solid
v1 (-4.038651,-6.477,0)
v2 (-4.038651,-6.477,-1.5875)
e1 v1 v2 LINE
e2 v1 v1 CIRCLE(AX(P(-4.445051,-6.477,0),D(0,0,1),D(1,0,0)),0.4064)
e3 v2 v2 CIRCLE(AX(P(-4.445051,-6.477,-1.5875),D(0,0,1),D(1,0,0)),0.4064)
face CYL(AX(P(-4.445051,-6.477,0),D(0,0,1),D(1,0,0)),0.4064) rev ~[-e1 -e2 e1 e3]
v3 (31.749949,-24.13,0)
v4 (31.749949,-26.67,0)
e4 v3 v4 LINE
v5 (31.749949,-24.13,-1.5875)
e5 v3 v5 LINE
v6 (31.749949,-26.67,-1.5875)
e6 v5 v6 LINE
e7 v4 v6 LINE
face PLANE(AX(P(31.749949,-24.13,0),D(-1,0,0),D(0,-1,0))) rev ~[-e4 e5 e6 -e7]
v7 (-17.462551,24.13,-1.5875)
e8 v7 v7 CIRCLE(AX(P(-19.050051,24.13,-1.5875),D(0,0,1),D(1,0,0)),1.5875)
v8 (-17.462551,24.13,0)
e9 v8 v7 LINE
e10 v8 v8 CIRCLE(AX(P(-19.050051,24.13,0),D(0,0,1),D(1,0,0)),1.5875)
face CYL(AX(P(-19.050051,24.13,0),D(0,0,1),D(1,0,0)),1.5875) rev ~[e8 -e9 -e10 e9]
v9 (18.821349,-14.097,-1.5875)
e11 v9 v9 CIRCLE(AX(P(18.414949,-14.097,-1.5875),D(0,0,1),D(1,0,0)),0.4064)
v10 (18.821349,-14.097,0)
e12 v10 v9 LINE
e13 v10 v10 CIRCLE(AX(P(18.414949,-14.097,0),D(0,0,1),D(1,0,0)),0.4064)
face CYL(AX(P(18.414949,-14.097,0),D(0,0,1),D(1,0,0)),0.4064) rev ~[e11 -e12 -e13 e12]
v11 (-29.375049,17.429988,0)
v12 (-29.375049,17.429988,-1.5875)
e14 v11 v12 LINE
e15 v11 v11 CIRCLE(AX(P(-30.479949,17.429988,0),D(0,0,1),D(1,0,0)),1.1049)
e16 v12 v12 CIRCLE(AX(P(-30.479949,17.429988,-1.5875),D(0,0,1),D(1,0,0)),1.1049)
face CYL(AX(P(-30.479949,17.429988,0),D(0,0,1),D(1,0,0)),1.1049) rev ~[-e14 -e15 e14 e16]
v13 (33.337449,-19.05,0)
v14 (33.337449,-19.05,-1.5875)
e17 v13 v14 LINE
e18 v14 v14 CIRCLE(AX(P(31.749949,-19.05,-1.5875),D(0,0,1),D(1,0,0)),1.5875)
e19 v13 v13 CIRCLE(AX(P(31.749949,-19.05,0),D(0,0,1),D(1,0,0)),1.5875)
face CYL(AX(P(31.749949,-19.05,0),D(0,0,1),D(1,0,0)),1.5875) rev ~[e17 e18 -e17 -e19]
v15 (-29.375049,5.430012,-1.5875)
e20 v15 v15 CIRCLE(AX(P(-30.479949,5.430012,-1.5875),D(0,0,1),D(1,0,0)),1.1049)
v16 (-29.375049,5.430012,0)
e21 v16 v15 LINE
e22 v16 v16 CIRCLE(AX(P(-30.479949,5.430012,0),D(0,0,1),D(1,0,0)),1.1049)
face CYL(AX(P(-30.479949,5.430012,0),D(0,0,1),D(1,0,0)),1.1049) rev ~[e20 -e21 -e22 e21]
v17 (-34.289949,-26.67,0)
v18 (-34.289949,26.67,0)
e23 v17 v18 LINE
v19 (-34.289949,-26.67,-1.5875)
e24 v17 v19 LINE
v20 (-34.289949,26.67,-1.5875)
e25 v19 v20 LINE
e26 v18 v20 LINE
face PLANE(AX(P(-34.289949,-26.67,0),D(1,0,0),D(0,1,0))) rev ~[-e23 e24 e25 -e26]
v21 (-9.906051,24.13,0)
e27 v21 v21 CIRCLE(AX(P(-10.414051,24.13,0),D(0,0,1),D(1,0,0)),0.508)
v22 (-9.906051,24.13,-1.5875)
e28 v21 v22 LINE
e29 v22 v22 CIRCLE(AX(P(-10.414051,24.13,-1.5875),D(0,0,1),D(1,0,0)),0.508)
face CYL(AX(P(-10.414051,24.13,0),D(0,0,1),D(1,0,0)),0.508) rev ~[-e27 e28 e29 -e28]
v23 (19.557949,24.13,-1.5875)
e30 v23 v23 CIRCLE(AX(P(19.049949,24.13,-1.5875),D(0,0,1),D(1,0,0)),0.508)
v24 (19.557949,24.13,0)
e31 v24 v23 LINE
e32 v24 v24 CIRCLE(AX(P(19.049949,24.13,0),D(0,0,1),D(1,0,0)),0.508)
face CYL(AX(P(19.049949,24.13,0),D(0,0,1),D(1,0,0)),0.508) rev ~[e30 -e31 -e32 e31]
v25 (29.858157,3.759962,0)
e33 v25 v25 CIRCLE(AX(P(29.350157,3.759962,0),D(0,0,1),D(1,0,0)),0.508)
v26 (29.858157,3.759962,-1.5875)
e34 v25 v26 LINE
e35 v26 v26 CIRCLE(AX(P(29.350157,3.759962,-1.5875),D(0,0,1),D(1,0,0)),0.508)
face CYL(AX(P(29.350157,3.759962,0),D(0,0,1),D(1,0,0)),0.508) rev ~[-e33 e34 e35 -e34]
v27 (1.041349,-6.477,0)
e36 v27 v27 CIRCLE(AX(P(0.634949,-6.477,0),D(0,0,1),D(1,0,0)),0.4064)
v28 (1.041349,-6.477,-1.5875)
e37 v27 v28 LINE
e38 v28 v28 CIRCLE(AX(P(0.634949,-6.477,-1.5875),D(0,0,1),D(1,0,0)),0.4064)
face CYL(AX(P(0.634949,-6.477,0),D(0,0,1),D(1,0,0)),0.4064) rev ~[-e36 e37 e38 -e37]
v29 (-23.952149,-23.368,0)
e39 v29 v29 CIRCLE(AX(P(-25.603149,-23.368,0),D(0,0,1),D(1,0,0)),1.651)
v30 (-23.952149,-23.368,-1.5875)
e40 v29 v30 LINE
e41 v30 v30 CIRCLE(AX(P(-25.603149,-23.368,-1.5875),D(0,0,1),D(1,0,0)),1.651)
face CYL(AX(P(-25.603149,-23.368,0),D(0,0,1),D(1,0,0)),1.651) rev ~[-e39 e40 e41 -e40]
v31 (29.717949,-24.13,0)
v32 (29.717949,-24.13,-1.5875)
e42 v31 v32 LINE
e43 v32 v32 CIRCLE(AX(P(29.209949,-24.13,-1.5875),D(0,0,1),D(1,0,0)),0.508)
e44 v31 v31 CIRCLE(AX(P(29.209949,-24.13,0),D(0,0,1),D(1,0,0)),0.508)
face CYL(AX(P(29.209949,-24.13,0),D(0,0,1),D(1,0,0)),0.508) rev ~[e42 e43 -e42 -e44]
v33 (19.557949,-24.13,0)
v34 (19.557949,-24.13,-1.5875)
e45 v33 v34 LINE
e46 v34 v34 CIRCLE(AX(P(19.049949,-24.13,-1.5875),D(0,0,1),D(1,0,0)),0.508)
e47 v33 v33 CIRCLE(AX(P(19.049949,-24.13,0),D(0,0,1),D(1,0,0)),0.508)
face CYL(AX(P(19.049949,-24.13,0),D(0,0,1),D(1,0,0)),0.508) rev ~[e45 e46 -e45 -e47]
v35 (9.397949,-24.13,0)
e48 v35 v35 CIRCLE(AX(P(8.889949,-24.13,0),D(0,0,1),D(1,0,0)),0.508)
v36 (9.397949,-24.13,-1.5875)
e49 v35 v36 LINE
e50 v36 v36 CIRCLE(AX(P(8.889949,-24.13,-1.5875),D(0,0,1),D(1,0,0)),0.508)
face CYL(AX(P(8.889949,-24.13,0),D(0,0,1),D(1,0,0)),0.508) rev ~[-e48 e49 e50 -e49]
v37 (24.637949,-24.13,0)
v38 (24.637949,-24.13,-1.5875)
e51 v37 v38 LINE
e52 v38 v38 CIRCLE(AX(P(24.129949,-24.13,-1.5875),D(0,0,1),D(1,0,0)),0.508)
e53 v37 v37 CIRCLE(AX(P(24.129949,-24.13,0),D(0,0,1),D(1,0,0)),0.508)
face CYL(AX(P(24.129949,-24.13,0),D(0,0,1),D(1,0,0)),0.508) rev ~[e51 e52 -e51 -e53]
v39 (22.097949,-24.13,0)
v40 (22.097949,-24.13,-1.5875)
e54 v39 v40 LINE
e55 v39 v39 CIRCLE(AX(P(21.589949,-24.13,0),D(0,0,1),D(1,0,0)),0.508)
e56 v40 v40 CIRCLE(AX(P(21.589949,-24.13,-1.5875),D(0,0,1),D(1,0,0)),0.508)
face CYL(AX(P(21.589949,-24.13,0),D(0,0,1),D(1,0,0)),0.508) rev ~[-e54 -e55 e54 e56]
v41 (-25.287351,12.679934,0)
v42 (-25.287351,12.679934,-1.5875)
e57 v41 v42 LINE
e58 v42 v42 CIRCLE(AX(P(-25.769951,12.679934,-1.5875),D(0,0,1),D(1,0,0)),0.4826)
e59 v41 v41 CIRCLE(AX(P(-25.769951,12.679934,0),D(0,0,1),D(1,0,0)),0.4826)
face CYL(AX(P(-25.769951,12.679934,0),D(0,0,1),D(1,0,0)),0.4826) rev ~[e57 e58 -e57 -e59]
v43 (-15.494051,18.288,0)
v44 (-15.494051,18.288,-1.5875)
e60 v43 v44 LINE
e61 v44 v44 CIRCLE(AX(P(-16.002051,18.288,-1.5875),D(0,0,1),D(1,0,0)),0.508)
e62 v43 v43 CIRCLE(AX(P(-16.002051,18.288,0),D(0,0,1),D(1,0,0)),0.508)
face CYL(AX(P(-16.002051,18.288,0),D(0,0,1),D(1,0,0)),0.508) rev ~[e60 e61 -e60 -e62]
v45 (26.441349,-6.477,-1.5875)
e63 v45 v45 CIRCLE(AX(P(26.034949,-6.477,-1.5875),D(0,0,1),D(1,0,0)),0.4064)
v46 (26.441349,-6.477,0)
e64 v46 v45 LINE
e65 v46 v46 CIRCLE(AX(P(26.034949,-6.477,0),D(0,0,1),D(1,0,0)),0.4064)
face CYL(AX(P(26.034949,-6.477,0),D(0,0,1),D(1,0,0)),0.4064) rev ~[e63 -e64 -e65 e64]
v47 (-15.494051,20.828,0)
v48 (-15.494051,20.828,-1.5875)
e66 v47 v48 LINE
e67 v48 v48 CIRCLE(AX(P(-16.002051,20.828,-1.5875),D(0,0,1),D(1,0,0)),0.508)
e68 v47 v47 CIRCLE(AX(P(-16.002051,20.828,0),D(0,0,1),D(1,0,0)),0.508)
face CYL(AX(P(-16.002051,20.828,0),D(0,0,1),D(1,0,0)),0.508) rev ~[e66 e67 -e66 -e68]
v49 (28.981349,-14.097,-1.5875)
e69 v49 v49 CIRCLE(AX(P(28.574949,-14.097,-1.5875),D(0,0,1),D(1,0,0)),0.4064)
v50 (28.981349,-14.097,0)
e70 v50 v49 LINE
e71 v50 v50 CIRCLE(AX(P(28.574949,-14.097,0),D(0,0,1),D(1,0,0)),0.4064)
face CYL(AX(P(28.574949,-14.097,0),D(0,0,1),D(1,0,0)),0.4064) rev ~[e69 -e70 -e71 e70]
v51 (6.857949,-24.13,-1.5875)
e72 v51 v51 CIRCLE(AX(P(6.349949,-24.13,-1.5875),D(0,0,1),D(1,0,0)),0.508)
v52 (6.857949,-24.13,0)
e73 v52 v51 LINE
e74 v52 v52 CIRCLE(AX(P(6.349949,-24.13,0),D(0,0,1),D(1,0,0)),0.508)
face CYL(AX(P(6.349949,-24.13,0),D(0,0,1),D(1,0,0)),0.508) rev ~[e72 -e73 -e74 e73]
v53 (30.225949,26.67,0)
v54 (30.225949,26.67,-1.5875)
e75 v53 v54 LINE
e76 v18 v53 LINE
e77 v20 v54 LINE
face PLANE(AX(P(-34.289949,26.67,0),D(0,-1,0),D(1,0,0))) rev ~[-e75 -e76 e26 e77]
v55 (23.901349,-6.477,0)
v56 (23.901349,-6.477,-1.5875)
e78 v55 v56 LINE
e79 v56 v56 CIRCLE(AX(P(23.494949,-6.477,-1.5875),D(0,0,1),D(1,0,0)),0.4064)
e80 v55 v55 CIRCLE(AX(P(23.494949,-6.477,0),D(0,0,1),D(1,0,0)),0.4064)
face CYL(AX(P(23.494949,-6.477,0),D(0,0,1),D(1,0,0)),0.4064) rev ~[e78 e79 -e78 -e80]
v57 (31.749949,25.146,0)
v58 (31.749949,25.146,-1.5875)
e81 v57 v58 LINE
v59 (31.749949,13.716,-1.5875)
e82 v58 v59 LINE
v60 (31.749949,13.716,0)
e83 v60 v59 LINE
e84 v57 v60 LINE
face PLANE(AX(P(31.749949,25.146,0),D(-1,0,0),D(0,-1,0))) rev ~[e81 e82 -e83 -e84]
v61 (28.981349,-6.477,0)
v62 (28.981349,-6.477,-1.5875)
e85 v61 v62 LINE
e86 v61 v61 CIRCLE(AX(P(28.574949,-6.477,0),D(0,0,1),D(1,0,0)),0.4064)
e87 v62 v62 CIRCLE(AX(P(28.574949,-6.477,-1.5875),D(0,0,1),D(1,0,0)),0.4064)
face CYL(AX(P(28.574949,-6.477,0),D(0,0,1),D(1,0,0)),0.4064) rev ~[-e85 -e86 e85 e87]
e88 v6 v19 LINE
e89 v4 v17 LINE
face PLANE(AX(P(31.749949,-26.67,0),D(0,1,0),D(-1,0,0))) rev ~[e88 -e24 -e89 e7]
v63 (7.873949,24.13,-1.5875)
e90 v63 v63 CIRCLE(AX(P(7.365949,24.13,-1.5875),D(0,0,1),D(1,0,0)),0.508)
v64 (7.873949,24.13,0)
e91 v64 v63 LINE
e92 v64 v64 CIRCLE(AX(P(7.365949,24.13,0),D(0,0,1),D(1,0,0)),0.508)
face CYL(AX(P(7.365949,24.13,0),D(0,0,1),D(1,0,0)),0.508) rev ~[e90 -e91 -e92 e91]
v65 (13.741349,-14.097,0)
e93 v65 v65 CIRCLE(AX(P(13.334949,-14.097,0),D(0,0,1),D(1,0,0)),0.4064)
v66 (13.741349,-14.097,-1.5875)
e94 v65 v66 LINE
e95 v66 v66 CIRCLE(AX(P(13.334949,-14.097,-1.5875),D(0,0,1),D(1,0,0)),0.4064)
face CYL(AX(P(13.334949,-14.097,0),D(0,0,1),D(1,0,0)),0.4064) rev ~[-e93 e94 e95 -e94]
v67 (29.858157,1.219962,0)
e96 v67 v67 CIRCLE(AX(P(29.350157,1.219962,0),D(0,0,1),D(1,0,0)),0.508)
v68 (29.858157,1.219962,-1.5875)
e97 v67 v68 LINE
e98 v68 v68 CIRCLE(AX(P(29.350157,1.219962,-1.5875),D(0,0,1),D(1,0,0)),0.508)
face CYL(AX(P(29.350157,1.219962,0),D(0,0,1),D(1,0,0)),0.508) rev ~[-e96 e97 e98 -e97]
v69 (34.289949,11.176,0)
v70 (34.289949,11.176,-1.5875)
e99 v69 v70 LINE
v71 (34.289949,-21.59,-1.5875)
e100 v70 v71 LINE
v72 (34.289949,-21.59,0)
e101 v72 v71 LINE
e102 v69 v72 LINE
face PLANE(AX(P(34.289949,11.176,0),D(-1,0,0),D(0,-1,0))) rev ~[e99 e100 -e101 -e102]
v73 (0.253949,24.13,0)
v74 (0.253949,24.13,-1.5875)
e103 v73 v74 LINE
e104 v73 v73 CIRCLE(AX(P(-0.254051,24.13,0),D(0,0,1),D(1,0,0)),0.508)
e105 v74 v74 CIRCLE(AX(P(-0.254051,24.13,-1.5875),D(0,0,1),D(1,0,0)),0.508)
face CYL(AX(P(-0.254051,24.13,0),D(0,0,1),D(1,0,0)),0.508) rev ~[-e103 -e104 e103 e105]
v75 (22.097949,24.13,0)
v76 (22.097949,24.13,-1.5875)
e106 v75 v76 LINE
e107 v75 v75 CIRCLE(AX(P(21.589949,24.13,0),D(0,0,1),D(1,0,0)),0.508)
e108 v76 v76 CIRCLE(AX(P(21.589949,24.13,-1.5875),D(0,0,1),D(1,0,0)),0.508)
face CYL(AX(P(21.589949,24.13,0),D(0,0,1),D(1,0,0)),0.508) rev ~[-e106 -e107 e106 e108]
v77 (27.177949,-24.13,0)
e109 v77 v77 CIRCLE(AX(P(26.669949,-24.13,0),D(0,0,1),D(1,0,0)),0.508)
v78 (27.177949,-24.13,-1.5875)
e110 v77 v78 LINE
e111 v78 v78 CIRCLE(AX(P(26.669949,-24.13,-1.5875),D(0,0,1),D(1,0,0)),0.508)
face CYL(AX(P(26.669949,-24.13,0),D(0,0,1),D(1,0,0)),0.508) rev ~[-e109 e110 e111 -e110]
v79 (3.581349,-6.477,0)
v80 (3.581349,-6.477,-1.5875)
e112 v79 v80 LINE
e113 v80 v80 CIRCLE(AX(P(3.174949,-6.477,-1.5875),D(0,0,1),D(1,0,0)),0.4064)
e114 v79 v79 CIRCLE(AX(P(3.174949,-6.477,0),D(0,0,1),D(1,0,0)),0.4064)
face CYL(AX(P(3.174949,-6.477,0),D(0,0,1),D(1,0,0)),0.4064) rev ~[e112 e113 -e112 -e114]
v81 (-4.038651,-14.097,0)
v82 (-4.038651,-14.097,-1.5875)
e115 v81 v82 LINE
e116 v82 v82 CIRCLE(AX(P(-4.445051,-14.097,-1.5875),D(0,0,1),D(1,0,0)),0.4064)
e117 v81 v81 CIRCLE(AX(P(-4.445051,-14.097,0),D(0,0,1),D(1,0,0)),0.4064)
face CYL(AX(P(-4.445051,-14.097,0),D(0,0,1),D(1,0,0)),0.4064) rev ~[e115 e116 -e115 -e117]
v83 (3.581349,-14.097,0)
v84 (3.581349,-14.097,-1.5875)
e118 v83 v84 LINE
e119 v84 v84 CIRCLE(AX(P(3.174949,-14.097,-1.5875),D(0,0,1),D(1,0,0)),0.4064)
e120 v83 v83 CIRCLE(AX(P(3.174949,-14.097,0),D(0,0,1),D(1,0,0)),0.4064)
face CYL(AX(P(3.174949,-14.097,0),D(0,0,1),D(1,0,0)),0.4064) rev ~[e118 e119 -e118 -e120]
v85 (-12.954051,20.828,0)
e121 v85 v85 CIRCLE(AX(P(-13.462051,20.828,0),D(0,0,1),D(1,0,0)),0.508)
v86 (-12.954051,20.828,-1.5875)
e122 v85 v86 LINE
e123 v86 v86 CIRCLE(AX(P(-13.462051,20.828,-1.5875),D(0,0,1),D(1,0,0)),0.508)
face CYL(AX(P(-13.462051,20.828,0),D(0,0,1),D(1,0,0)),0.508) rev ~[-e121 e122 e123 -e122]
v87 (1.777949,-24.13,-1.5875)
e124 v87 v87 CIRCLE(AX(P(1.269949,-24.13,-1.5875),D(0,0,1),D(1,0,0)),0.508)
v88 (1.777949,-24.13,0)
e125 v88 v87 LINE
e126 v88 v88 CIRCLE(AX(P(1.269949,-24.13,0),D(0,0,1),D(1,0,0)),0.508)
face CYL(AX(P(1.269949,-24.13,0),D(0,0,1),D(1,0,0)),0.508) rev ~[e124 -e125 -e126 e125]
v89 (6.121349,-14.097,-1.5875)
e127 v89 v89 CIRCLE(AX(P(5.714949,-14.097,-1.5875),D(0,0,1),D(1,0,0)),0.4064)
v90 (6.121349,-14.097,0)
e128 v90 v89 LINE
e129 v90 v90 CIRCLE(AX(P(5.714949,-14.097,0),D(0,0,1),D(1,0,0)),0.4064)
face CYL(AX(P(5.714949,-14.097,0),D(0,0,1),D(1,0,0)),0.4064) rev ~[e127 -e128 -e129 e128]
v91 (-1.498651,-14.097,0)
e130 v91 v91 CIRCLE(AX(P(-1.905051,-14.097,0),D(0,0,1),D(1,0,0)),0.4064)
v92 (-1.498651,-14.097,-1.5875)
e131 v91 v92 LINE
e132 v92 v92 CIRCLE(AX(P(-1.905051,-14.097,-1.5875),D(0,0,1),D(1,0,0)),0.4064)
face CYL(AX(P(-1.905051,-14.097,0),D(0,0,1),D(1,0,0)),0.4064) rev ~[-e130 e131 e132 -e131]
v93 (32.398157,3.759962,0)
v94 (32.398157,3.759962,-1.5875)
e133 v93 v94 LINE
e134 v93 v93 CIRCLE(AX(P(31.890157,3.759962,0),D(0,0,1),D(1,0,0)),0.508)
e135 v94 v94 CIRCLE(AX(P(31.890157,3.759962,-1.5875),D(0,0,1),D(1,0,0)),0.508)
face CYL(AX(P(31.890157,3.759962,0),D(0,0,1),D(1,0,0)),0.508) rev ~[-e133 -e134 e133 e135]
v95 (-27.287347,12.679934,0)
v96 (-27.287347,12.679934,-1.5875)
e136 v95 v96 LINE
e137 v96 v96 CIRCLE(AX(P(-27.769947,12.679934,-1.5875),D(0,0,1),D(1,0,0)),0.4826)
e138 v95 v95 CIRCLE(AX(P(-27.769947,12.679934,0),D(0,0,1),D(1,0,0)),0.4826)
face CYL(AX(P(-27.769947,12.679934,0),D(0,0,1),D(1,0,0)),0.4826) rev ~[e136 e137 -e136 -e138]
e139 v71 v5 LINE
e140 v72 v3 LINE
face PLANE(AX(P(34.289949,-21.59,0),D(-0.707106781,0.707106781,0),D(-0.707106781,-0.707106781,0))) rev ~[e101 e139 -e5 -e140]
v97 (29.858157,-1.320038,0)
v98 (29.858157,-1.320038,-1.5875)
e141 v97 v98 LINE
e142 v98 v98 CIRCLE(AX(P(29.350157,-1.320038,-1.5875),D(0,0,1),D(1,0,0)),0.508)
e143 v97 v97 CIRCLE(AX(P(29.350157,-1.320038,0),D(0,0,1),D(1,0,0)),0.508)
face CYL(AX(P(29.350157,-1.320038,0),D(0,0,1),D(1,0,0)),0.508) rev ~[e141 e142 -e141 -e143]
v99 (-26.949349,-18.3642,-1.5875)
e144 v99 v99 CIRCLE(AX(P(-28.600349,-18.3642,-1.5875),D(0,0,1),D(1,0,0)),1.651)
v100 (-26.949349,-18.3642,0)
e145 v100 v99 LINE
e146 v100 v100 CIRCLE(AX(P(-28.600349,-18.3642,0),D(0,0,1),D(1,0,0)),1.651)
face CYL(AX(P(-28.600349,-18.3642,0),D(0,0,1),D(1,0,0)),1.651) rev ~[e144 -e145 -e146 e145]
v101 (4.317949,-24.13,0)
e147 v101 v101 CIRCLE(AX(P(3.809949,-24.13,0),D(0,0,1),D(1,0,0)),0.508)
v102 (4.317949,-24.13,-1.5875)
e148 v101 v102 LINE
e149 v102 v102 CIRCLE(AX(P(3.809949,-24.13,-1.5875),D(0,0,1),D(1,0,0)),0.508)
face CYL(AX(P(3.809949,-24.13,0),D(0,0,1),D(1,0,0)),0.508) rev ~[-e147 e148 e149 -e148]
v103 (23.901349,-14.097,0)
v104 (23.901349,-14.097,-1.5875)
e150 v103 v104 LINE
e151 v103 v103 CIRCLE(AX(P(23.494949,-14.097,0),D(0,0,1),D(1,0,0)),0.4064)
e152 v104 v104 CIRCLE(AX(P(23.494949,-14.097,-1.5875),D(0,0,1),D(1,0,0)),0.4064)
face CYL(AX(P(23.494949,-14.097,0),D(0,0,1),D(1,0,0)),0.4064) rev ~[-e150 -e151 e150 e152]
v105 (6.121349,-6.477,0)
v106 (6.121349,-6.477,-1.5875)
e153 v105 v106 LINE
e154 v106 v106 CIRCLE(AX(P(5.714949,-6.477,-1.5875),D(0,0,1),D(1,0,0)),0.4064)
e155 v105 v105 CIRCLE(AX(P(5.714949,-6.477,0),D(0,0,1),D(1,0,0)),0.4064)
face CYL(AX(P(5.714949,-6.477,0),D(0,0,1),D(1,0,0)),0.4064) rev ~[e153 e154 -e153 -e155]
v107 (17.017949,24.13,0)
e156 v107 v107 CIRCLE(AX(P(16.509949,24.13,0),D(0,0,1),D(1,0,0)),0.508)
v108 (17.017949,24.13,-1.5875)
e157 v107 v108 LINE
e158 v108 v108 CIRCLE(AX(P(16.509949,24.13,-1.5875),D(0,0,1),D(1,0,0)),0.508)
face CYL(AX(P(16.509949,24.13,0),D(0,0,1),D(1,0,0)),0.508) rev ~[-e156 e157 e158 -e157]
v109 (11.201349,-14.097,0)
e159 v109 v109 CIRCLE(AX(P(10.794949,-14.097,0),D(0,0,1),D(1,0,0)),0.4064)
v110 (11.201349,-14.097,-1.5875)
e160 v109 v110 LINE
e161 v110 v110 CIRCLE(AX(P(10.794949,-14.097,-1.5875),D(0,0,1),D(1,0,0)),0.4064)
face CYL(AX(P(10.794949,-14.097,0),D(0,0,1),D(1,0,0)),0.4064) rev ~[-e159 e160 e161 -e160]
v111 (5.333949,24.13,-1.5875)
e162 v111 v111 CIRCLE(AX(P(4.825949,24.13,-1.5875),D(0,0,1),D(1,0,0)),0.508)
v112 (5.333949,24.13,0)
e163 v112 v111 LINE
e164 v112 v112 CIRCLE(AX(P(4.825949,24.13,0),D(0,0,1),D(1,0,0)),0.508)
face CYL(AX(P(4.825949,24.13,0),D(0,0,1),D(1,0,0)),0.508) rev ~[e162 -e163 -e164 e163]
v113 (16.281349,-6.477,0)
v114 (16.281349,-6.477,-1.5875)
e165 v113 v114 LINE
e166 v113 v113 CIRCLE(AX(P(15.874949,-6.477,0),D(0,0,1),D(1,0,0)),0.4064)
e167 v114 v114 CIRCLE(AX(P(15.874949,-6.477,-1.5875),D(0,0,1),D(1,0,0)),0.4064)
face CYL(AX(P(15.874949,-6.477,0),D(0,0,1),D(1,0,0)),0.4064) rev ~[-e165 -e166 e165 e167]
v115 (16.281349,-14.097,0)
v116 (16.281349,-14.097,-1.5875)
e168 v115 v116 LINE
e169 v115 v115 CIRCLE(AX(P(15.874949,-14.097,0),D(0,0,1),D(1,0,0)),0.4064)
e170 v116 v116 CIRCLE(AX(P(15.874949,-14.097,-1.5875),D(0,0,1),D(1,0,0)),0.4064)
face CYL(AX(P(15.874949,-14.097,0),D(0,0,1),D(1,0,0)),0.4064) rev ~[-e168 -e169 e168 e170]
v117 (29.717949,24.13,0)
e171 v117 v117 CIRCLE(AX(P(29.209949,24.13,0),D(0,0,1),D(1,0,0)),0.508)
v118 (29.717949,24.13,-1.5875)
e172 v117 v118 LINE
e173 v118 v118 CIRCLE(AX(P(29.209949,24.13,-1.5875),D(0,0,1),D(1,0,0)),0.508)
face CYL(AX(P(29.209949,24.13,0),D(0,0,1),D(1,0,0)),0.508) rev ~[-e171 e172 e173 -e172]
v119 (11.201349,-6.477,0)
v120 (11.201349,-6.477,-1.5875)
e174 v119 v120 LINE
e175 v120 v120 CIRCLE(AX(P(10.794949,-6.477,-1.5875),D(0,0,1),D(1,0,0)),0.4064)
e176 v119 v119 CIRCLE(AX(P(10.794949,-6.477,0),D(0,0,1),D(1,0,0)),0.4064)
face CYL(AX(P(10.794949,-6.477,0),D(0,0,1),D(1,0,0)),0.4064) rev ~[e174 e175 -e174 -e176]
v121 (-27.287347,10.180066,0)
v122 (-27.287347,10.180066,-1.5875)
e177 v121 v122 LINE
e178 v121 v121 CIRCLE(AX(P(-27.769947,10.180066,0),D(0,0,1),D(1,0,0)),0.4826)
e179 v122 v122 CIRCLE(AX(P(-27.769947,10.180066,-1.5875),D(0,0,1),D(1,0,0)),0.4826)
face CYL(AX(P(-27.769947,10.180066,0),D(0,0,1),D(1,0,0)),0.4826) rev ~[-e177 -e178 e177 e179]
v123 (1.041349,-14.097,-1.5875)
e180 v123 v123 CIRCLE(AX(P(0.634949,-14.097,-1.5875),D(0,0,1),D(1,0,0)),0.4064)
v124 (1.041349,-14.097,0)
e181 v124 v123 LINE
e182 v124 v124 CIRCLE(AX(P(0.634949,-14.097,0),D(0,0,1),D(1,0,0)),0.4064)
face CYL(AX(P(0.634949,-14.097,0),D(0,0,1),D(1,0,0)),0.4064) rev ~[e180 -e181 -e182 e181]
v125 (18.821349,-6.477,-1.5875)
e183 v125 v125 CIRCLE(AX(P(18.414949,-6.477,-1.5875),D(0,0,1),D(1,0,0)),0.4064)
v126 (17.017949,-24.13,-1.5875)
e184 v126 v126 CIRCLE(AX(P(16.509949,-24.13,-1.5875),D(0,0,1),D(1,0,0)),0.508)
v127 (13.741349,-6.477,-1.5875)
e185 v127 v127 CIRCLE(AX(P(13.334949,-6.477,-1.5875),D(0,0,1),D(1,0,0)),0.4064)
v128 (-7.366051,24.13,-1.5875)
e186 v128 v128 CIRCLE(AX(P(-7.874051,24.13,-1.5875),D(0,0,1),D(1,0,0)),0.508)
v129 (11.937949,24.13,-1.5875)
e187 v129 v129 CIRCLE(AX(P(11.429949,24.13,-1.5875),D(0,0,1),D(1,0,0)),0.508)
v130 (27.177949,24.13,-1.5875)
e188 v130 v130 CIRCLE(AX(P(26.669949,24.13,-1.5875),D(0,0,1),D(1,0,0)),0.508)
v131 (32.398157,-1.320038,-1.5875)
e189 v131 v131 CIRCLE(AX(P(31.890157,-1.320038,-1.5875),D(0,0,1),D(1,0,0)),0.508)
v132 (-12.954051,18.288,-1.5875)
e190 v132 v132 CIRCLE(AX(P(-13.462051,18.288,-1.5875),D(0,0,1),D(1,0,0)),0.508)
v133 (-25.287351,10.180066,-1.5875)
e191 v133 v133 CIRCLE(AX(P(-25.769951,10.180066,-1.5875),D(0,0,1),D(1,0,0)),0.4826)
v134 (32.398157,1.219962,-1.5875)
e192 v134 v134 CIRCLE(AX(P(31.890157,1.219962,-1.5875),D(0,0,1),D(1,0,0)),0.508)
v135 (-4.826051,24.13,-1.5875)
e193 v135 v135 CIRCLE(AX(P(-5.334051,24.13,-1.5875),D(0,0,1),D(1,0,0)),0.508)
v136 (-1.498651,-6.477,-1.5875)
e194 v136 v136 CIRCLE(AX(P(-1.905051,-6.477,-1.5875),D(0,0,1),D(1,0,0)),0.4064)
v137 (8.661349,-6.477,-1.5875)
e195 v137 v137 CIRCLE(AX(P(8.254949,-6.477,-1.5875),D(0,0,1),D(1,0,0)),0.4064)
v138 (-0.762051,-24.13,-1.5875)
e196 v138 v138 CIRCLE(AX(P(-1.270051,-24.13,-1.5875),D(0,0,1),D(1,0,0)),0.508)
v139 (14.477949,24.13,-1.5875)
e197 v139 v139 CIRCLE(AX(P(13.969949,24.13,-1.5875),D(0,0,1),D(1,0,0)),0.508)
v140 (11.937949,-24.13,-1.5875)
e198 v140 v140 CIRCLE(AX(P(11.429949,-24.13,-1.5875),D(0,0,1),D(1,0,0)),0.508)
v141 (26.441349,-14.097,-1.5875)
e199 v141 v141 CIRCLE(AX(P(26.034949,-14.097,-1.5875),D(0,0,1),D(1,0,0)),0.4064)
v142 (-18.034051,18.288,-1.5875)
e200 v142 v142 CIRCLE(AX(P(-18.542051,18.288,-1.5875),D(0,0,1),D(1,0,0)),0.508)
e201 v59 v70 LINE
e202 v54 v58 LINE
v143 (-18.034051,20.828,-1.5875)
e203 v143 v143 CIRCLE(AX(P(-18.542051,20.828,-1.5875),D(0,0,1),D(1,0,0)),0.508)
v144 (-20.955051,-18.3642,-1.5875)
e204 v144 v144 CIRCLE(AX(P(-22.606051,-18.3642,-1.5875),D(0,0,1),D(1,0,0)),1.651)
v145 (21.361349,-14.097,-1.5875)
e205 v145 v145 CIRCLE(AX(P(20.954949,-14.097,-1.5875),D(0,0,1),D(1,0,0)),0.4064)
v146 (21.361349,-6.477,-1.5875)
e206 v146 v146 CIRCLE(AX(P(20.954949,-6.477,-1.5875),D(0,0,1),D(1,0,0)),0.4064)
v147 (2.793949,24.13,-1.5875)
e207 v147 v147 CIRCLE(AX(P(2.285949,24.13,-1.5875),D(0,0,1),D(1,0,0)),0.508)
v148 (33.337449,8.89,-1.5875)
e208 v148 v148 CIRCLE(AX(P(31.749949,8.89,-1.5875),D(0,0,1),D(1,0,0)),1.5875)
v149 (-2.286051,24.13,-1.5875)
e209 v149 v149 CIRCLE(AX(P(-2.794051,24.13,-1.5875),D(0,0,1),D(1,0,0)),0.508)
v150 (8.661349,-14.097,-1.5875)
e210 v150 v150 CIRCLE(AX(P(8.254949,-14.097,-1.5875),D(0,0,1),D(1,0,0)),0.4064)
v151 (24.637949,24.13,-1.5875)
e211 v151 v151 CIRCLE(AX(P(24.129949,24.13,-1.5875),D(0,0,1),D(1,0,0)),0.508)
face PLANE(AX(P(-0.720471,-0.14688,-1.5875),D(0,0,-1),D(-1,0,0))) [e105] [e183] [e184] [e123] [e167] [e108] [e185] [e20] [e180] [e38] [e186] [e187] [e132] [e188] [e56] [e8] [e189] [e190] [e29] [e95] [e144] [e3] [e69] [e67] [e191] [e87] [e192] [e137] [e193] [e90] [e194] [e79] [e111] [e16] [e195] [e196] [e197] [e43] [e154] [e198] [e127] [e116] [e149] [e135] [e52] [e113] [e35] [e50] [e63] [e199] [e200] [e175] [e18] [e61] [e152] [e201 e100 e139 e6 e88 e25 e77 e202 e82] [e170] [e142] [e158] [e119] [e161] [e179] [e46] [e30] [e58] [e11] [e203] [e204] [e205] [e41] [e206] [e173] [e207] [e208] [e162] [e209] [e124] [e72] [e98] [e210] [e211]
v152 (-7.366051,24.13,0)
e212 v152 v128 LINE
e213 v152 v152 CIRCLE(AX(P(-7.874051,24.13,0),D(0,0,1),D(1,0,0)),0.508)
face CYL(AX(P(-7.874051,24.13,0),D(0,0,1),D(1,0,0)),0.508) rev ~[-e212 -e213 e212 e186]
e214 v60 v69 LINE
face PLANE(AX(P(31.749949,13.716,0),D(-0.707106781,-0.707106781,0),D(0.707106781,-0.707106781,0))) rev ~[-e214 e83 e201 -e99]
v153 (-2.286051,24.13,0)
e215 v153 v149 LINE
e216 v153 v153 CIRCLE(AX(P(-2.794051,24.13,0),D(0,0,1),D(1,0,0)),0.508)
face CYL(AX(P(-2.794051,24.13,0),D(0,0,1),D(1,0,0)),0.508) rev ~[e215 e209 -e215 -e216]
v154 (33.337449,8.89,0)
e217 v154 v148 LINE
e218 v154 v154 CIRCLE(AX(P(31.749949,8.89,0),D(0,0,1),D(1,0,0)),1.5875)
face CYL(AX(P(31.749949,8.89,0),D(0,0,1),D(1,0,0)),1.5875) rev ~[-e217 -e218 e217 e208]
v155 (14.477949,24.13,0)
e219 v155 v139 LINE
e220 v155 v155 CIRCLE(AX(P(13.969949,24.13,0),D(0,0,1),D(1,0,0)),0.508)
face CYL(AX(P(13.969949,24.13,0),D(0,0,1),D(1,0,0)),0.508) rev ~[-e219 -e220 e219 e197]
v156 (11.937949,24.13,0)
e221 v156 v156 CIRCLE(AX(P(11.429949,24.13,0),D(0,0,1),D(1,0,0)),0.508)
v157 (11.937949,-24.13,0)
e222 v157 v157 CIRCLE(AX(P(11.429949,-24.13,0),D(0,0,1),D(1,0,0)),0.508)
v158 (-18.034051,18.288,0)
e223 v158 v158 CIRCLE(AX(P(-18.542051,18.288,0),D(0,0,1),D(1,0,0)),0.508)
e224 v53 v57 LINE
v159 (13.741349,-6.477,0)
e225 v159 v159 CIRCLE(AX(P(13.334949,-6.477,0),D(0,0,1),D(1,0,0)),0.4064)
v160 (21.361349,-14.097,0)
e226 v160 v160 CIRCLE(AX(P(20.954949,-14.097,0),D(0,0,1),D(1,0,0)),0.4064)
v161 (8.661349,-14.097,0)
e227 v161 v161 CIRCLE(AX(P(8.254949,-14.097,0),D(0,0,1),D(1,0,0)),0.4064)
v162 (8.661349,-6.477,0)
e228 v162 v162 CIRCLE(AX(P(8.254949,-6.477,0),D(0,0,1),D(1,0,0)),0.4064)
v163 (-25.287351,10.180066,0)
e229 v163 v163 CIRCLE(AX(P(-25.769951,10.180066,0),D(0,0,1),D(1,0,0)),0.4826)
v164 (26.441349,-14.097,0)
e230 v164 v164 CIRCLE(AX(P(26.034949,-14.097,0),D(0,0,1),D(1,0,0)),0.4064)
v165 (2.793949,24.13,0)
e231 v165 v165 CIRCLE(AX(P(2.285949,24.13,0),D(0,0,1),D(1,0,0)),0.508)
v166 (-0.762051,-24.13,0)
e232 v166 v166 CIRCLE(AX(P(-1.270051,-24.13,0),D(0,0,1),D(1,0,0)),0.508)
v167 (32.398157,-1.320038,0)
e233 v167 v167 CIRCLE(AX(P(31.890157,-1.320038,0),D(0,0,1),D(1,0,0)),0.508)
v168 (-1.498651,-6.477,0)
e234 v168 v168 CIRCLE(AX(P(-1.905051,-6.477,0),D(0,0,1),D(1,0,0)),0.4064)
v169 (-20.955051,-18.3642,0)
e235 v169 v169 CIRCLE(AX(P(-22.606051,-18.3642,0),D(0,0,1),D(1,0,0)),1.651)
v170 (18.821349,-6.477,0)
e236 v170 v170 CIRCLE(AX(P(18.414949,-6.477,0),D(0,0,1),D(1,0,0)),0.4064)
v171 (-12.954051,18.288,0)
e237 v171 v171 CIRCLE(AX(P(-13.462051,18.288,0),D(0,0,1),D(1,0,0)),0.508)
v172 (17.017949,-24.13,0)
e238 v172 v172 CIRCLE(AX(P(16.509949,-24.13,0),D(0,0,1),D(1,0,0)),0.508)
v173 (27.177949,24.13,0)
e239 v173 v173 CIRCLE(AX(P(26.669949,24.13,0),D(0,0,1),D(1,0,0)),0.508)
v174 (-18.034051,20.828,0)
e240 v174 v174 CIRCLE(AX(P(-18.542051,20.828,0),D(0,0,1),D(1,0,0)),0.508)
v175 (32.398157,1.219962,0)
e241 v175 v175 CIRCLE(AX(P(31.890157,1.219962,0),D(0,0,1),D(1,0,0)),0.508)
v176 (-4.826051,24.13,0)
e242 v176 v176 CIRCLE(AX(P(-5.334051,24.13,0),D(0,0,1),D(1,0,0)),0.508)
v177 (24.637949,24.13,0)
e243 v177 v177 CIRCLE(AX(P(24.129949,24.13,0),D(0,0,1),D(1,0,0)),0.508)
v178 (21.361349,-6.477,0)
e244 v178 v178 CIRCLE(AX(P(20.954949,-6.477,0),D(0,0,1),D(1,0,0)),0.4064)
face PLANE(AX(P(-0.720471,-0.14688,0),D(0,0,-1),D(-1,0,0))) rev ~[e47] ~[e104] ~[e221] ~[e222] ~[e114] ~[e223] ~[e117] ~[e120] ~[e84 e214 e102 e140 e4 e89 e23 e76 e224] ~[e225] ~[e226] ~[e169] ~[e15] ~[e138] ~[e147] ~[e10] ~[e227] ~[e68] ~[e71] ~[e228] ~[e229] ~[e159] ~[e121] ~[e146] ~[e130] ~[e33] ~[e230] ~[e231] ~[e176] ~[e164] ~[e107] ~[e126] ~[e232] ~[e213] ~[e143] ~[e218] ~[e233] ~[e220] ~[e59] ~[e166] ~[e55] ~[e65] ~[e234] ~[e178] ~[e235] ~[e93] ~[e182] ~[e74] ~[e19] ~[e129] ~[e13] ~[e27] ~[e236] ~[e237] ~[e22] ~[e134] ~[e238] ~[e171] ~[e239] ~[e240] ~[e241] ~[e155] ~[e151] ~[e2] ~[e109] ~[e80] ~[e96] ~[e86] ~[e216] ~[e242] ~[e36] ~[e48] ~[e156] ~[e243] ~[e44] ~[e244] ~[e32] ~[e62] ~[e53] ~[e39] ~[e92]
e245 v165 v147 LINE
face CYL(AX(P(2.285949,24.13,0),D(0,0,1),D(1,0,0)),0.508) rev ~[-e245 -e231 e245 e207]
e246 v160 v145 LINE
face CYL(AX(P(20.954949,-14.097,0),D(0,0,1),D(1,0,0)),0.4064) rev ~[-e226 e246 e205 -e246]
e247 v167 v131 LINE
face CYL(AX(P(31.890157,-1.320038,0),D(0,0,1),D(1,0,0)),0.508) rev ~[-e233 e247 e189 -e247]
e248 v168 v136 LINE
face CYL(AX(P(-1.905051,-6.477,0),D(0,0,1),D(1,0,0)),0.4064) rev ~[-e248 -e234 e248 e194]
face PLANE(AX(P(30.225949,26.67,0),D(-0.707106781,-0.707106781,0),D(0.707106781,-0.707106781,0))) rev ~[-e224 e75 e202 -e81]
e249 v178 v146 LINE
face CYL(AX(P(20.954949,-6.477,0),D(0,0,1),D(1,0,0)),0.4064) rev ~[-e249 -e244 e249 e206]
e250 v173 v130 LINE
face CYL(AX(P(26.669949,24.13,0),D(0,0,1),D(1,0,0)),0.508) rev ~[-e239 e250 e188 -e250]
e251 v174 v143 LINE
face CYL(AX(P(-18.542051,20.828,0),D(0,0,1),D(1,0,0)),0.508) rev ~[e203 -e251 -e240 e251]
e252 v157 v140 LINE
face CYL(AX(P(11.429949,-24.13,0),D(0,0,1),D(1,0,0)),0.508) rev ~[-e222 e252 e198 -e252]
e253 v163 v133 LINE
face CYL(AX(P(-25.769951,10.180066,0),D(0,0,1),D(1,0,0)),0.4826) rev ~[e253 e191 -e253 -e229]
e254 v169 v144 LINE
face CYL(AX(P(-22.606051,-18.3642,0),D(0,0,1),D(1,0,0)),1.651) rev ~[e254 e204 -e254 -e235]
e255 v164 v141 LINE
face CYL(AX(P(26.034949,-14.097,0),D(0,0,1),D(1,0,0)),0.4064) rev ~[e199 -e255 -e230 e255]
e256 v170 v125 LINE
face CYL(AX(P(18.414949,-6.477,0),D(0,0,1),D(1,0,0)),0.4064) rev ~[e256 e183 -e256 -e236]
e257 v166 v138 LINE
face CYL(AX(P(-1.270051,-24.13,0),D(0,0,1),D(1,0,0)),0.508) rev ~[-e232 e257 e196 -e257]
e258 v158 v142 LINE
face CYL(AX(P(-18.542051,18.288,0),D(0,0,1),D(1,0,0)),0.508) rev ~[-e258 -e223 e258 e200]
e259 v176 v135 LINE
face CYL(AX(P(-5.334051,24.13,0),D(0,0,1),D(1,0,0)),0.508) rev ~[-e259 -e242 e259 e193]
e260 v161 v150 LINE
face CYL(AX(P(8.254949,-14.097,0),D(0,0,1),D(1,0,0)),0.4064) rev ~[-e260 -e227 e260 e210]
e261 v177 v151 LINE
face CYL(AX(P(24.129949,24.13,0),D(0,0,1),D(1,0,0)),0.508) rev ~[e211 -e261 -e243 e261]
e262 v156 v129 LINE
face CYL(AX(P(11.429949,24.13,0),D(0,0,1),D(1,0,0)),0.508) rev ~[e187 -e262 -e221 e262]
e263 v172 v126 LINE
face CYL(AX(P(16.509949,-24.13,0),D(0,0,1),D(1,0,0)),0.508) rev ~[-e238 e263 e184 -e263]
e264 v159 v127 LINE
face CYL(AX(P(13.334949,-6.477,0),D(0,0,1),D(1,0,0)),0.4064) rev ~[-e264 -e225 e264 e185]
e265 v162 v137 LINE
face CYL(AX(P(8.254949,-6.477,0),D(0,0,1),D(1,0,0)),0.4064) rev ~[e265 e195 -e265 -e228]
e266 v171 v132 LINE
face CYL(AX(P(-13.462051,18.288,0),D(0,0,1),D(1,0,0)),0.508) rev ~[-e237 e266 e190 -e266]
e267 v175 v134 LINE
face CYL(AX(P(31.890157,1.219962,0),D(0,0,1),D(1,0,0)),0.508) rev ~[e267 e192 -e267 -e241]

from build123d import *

# Parameters (mm, degrees)
BOSS_EXTRUDE1_DEPTH = 1.5875
SKETCH3_R           = 1.1049
SKETCH3_R_2         = 1.651
SKETCH3_R_3         = 1.5875
SKETCH3_R_4         = 0.4826
CUT_EXTRUDE1_DEPTH  = 2.5875
SKETCH4_R           = 0.508
SKETCH4_R_2         = 0.4064
CUT_EXTRUDE2_DEPTH  = 2.5875


with BuildPart() as part:
    # Sketch2 → Boss-Extrude1 (new body)
    with BuildSketch(Plane.XY):
        Polygon((-34.2899492, 26.67), (30.2259492, 26.67), (31.7499492, 25.146), (31.7499492, 13.716), (34.2899492, 11.176), (34.2899492, -21.59), (31.7499492, -24.13), (31.7499492, -26.67), (-34.2899492, -26.67), align=None)
    extrude(amount=-BOSS_EXTRUDE1_DEPTH)

    # Sketch3 → Cut-Extrude1 (cut, through all)
    with BuildSketch(Plane.XY):
        with Locations((-30.4799492, 17.429988)):
            Circle(SKETCH3_R)
        with Locations((-30.4799492, 5.430012)):
            Circle(SKETCH3_R)
        with Locations((-28.6003492, -18.3642)):
            Circle(SKETCH3_R_2)
        with Locations((-25.6031492, -23.368)):
            Circle(SKETCH3_R_2)
        with Locations((-22.6060508, -18.3642)):
            Circle(SKETCH3_R_2)
        with Locations((31.7499492, -19.05)):
            Circle(SKETCH3_R_3)
        with Locations((31.7499492, 8.89)):
            Circle(SKETCH3_R_3)
        with Locations((-19.0500508, 24.13)):
            Circle(SKETCH3_R_3)
        with Locations((-25.769951, 12.679934)):
            Circle(SKETCH3_R_4)
        with Locations((-27.769947, 12.679934)):
            Circle(SKETCH3_R_4)
        with Locations((-27.769947, 10.180066)):
            Circle(SKETCH3_R_4)
        with Locations((-25.769951, 10.180066)):
            Circle(SKETCH3_R_4)
    extrude(amount=-CUT_EXTRUDE1_DEPTH, mode=Mode.SUBTRACT)

    # Sketch4 → Cut-Extrude2 (cut, through all)
    with BuildSketch(Plane.XY):
        with Locations((29.2099492, 24.13)):
            Circle(SKETCH4_R)
        with Locations((26.6699492, 24.13)):
            Circle(SKETCH4_R)
        with Locations((24.1299492, 24.13)):
            Circle(SKETCH4_R)
        with Locations((21.5899492, 24.13)):
            Circle(SKETCH4_R)
        with Locations((19.0499492, 24.13)):
            Circle(SKETCH4_R)
        with Locations((16.5099492, 24.13)):
            Circle(SKETCH4_R)
        with Locations((13.9699492, 24.13)):
            Circle(SKETCH4_R)
        with Locations((11.4299492, 24.13)):
            Circle(SKETCH4_R)
        with Locations((7.3659492, 24.13)):
            Circle(SKETCH4_R)
        with Locations((4.8259492, 24.13)):
            Circle(SKETCH4_R)
        with Locations((2.2859492, 24.13)):
            Circle(SKETCH4_R)
        with Locations((-0.2540508, 24.13)):
            Circle(SKETCH4_R)
        with Locations((-2.7940508, 24.13)):
            Circle(SKETCH4_R)
        with Locations((-5.3340508, 24.13)):
            Circle(SKETCH4_R)
        with Locations((-7.8740508, 24.13)):
            Circle(SKETCH4_R)
        with Locations((-10.4140508, 24.13)):
            Circle(SKETCH4_R)
        with Locations((28.5749492, -6.477)):
            Circle(SKETCH4_R_2)
        with Locations((26.0349492, -6.477)):
            Circle(SKETCH4_R_2)
        with Locations((23.4949492, -6.477)):
            Circle(SKETCH4_R_2)
        with Locations((20.9549492, -6.477)):
            Circle(SKETCH4_R_2)
        with Locations((18.4149492, -6.477)):
            Circle(SKETCH4_R_2)
        with Locations((15.8749492, -6.477)):
            Circle(SKETCH4_R_2)
        with Locations((13.3349492, -6.477)):
            Circle(SKETCH4_R_2)
        with Locations((10.7949492, -6.477)):
            Circle(SKETCH4_R_2)
        with Locations((8.2549492, -6.477)):
            Circle(SKETCH4_R_2)
        with Locations((5.7149492, -6.477)):
            Circle(SKETCH4_R_2)
        with Locations((3.1749492, -6.477)):
            Circle(SKETCH4_R_2)
        with Locations((0.6349492, -6.477)):
            Circle(SKETCH4_R_2)
        with Locations((-1.9050508, -6.477)):
            Circle(SKETCH4_R_2)
        with Locations((-4.4450508, -6.477)):
            Circle(SKETCH4_R_2)
        with Locations((28.5749492, -14.097)):
            Circle(SKETCH4_R_2)
        with Locations((26.0349492, -14.097)):
            Circle(SKETCH4_R_2)
        with Locations((23.4949492, -14.097)):
            Circle(SKETCH4_R_2)
        with Locations((20.9549492, -14.097)):
            Circle(SKETCH4_R_2)
        with Locations((18.4149492, -14.097)):
            Circle(SKETCH4_R_2)
        with Locations((15.8749492, -14.097)):
            Circle(SKETCH4_R_2)
        with Locations((13.3349492, -14.097)):
            Circle(SKETCH4_R_2)
        with Locations((10.7949492, -14.097)):
            Circle(SKETCH4_R_2)
        with Locations((8.2549492, -14.097)):
            Circle(SKETCH4_R_2)
        with Locations((5.7149492, -14.097)):
            Circle(SKETCH4_R_2)
        with Locations((3.1749492, -14.097)):
            Circle(SKETCH4_R_2)
        with Locations((0.6349492, -14.097)):
            Circle(SKETCH4_R_2)
        with Locations((-1.9050508, -14.097)):
            Circle(SKETCH4_R_2)
        with Locations((-4.4450508, -14.097)):
            Circle(SKETCH4_R_2)
        with Locations((29.2099492, -24.13)):
            Circle(SKETCH4_R)
        with Locations((11.4299492, -24.13)):
            Circle(SKETCH4_R)
        with Locations((26.6699492, -24.13)):
            Circle(SKETCH4_R)
        with Locations((8.8899492, -24.13)):
            Circle(SKETCH4_R)
        with Locations((24.1299492, -24.13)):
            Circle(SKETCH4_R)
        with Locations((6.3499492, -24.13)):
            Circle(SKETCH4_R)
        with Locations((21.5899492, -24.13)):
            Circle(SKETCH4_R)
        with Locations((3.8099492, -24.13)):
            Circle(SKETCH4_R)
        with Locations((19.0499492, -24.13)):
            Circle(SKETCH4_R)
        with Locations((1.2699492, -24.13)):
            Circle(SKETCH4_R)
        with Locations((16.5099492, -24.13)):
            Circle(SKETCH4_R)
        with Locations((-1.2700508, -24.13)):
            Circle(SKETCH4_R)
        with Locations((-13.4620508, 20.828)):
            Circle(SKETCH4_R)
        with Locations((-13.4620508, 18.288)):
            Circle(SKETCH4_R)
        with Locations((-16.0020508, 18.288)):
            Circle(SKETCH4_R)
        with Locations((-16.0020508, 20.828)):
            Circle(SKETCH4_R)
        with Locations((-18.5420508, 18.288)):
            Circle(SKETCH4_R)
        with Locations((-18.5420508, 20.828)):
            Circle(SKETCH4_R)
        with Locations((31.8901572, -1.320038)):
            Circle(SKETCH4_R)
        with Locations((29.3501572, -1.320038)):
            Circle(SKETCH4_R)
        with Locations((29.3501572, 1.219962)):
            Circle(SKETCH4_R)
        with Locations((31.8901572, 1.219962)):
            Circle(SKETCH4_R)
        with Locations((29.3501572, 3.759962)):
            Circle(SKETCH4_R)
        with Locations((31.8901572, 3.759962)):
            Circle(SKETCH4_R)
    extrude(amount=-CUT_EXTRUDE2_DEPTH, mode=Mode.SUBTRACT)


solid = part.part
